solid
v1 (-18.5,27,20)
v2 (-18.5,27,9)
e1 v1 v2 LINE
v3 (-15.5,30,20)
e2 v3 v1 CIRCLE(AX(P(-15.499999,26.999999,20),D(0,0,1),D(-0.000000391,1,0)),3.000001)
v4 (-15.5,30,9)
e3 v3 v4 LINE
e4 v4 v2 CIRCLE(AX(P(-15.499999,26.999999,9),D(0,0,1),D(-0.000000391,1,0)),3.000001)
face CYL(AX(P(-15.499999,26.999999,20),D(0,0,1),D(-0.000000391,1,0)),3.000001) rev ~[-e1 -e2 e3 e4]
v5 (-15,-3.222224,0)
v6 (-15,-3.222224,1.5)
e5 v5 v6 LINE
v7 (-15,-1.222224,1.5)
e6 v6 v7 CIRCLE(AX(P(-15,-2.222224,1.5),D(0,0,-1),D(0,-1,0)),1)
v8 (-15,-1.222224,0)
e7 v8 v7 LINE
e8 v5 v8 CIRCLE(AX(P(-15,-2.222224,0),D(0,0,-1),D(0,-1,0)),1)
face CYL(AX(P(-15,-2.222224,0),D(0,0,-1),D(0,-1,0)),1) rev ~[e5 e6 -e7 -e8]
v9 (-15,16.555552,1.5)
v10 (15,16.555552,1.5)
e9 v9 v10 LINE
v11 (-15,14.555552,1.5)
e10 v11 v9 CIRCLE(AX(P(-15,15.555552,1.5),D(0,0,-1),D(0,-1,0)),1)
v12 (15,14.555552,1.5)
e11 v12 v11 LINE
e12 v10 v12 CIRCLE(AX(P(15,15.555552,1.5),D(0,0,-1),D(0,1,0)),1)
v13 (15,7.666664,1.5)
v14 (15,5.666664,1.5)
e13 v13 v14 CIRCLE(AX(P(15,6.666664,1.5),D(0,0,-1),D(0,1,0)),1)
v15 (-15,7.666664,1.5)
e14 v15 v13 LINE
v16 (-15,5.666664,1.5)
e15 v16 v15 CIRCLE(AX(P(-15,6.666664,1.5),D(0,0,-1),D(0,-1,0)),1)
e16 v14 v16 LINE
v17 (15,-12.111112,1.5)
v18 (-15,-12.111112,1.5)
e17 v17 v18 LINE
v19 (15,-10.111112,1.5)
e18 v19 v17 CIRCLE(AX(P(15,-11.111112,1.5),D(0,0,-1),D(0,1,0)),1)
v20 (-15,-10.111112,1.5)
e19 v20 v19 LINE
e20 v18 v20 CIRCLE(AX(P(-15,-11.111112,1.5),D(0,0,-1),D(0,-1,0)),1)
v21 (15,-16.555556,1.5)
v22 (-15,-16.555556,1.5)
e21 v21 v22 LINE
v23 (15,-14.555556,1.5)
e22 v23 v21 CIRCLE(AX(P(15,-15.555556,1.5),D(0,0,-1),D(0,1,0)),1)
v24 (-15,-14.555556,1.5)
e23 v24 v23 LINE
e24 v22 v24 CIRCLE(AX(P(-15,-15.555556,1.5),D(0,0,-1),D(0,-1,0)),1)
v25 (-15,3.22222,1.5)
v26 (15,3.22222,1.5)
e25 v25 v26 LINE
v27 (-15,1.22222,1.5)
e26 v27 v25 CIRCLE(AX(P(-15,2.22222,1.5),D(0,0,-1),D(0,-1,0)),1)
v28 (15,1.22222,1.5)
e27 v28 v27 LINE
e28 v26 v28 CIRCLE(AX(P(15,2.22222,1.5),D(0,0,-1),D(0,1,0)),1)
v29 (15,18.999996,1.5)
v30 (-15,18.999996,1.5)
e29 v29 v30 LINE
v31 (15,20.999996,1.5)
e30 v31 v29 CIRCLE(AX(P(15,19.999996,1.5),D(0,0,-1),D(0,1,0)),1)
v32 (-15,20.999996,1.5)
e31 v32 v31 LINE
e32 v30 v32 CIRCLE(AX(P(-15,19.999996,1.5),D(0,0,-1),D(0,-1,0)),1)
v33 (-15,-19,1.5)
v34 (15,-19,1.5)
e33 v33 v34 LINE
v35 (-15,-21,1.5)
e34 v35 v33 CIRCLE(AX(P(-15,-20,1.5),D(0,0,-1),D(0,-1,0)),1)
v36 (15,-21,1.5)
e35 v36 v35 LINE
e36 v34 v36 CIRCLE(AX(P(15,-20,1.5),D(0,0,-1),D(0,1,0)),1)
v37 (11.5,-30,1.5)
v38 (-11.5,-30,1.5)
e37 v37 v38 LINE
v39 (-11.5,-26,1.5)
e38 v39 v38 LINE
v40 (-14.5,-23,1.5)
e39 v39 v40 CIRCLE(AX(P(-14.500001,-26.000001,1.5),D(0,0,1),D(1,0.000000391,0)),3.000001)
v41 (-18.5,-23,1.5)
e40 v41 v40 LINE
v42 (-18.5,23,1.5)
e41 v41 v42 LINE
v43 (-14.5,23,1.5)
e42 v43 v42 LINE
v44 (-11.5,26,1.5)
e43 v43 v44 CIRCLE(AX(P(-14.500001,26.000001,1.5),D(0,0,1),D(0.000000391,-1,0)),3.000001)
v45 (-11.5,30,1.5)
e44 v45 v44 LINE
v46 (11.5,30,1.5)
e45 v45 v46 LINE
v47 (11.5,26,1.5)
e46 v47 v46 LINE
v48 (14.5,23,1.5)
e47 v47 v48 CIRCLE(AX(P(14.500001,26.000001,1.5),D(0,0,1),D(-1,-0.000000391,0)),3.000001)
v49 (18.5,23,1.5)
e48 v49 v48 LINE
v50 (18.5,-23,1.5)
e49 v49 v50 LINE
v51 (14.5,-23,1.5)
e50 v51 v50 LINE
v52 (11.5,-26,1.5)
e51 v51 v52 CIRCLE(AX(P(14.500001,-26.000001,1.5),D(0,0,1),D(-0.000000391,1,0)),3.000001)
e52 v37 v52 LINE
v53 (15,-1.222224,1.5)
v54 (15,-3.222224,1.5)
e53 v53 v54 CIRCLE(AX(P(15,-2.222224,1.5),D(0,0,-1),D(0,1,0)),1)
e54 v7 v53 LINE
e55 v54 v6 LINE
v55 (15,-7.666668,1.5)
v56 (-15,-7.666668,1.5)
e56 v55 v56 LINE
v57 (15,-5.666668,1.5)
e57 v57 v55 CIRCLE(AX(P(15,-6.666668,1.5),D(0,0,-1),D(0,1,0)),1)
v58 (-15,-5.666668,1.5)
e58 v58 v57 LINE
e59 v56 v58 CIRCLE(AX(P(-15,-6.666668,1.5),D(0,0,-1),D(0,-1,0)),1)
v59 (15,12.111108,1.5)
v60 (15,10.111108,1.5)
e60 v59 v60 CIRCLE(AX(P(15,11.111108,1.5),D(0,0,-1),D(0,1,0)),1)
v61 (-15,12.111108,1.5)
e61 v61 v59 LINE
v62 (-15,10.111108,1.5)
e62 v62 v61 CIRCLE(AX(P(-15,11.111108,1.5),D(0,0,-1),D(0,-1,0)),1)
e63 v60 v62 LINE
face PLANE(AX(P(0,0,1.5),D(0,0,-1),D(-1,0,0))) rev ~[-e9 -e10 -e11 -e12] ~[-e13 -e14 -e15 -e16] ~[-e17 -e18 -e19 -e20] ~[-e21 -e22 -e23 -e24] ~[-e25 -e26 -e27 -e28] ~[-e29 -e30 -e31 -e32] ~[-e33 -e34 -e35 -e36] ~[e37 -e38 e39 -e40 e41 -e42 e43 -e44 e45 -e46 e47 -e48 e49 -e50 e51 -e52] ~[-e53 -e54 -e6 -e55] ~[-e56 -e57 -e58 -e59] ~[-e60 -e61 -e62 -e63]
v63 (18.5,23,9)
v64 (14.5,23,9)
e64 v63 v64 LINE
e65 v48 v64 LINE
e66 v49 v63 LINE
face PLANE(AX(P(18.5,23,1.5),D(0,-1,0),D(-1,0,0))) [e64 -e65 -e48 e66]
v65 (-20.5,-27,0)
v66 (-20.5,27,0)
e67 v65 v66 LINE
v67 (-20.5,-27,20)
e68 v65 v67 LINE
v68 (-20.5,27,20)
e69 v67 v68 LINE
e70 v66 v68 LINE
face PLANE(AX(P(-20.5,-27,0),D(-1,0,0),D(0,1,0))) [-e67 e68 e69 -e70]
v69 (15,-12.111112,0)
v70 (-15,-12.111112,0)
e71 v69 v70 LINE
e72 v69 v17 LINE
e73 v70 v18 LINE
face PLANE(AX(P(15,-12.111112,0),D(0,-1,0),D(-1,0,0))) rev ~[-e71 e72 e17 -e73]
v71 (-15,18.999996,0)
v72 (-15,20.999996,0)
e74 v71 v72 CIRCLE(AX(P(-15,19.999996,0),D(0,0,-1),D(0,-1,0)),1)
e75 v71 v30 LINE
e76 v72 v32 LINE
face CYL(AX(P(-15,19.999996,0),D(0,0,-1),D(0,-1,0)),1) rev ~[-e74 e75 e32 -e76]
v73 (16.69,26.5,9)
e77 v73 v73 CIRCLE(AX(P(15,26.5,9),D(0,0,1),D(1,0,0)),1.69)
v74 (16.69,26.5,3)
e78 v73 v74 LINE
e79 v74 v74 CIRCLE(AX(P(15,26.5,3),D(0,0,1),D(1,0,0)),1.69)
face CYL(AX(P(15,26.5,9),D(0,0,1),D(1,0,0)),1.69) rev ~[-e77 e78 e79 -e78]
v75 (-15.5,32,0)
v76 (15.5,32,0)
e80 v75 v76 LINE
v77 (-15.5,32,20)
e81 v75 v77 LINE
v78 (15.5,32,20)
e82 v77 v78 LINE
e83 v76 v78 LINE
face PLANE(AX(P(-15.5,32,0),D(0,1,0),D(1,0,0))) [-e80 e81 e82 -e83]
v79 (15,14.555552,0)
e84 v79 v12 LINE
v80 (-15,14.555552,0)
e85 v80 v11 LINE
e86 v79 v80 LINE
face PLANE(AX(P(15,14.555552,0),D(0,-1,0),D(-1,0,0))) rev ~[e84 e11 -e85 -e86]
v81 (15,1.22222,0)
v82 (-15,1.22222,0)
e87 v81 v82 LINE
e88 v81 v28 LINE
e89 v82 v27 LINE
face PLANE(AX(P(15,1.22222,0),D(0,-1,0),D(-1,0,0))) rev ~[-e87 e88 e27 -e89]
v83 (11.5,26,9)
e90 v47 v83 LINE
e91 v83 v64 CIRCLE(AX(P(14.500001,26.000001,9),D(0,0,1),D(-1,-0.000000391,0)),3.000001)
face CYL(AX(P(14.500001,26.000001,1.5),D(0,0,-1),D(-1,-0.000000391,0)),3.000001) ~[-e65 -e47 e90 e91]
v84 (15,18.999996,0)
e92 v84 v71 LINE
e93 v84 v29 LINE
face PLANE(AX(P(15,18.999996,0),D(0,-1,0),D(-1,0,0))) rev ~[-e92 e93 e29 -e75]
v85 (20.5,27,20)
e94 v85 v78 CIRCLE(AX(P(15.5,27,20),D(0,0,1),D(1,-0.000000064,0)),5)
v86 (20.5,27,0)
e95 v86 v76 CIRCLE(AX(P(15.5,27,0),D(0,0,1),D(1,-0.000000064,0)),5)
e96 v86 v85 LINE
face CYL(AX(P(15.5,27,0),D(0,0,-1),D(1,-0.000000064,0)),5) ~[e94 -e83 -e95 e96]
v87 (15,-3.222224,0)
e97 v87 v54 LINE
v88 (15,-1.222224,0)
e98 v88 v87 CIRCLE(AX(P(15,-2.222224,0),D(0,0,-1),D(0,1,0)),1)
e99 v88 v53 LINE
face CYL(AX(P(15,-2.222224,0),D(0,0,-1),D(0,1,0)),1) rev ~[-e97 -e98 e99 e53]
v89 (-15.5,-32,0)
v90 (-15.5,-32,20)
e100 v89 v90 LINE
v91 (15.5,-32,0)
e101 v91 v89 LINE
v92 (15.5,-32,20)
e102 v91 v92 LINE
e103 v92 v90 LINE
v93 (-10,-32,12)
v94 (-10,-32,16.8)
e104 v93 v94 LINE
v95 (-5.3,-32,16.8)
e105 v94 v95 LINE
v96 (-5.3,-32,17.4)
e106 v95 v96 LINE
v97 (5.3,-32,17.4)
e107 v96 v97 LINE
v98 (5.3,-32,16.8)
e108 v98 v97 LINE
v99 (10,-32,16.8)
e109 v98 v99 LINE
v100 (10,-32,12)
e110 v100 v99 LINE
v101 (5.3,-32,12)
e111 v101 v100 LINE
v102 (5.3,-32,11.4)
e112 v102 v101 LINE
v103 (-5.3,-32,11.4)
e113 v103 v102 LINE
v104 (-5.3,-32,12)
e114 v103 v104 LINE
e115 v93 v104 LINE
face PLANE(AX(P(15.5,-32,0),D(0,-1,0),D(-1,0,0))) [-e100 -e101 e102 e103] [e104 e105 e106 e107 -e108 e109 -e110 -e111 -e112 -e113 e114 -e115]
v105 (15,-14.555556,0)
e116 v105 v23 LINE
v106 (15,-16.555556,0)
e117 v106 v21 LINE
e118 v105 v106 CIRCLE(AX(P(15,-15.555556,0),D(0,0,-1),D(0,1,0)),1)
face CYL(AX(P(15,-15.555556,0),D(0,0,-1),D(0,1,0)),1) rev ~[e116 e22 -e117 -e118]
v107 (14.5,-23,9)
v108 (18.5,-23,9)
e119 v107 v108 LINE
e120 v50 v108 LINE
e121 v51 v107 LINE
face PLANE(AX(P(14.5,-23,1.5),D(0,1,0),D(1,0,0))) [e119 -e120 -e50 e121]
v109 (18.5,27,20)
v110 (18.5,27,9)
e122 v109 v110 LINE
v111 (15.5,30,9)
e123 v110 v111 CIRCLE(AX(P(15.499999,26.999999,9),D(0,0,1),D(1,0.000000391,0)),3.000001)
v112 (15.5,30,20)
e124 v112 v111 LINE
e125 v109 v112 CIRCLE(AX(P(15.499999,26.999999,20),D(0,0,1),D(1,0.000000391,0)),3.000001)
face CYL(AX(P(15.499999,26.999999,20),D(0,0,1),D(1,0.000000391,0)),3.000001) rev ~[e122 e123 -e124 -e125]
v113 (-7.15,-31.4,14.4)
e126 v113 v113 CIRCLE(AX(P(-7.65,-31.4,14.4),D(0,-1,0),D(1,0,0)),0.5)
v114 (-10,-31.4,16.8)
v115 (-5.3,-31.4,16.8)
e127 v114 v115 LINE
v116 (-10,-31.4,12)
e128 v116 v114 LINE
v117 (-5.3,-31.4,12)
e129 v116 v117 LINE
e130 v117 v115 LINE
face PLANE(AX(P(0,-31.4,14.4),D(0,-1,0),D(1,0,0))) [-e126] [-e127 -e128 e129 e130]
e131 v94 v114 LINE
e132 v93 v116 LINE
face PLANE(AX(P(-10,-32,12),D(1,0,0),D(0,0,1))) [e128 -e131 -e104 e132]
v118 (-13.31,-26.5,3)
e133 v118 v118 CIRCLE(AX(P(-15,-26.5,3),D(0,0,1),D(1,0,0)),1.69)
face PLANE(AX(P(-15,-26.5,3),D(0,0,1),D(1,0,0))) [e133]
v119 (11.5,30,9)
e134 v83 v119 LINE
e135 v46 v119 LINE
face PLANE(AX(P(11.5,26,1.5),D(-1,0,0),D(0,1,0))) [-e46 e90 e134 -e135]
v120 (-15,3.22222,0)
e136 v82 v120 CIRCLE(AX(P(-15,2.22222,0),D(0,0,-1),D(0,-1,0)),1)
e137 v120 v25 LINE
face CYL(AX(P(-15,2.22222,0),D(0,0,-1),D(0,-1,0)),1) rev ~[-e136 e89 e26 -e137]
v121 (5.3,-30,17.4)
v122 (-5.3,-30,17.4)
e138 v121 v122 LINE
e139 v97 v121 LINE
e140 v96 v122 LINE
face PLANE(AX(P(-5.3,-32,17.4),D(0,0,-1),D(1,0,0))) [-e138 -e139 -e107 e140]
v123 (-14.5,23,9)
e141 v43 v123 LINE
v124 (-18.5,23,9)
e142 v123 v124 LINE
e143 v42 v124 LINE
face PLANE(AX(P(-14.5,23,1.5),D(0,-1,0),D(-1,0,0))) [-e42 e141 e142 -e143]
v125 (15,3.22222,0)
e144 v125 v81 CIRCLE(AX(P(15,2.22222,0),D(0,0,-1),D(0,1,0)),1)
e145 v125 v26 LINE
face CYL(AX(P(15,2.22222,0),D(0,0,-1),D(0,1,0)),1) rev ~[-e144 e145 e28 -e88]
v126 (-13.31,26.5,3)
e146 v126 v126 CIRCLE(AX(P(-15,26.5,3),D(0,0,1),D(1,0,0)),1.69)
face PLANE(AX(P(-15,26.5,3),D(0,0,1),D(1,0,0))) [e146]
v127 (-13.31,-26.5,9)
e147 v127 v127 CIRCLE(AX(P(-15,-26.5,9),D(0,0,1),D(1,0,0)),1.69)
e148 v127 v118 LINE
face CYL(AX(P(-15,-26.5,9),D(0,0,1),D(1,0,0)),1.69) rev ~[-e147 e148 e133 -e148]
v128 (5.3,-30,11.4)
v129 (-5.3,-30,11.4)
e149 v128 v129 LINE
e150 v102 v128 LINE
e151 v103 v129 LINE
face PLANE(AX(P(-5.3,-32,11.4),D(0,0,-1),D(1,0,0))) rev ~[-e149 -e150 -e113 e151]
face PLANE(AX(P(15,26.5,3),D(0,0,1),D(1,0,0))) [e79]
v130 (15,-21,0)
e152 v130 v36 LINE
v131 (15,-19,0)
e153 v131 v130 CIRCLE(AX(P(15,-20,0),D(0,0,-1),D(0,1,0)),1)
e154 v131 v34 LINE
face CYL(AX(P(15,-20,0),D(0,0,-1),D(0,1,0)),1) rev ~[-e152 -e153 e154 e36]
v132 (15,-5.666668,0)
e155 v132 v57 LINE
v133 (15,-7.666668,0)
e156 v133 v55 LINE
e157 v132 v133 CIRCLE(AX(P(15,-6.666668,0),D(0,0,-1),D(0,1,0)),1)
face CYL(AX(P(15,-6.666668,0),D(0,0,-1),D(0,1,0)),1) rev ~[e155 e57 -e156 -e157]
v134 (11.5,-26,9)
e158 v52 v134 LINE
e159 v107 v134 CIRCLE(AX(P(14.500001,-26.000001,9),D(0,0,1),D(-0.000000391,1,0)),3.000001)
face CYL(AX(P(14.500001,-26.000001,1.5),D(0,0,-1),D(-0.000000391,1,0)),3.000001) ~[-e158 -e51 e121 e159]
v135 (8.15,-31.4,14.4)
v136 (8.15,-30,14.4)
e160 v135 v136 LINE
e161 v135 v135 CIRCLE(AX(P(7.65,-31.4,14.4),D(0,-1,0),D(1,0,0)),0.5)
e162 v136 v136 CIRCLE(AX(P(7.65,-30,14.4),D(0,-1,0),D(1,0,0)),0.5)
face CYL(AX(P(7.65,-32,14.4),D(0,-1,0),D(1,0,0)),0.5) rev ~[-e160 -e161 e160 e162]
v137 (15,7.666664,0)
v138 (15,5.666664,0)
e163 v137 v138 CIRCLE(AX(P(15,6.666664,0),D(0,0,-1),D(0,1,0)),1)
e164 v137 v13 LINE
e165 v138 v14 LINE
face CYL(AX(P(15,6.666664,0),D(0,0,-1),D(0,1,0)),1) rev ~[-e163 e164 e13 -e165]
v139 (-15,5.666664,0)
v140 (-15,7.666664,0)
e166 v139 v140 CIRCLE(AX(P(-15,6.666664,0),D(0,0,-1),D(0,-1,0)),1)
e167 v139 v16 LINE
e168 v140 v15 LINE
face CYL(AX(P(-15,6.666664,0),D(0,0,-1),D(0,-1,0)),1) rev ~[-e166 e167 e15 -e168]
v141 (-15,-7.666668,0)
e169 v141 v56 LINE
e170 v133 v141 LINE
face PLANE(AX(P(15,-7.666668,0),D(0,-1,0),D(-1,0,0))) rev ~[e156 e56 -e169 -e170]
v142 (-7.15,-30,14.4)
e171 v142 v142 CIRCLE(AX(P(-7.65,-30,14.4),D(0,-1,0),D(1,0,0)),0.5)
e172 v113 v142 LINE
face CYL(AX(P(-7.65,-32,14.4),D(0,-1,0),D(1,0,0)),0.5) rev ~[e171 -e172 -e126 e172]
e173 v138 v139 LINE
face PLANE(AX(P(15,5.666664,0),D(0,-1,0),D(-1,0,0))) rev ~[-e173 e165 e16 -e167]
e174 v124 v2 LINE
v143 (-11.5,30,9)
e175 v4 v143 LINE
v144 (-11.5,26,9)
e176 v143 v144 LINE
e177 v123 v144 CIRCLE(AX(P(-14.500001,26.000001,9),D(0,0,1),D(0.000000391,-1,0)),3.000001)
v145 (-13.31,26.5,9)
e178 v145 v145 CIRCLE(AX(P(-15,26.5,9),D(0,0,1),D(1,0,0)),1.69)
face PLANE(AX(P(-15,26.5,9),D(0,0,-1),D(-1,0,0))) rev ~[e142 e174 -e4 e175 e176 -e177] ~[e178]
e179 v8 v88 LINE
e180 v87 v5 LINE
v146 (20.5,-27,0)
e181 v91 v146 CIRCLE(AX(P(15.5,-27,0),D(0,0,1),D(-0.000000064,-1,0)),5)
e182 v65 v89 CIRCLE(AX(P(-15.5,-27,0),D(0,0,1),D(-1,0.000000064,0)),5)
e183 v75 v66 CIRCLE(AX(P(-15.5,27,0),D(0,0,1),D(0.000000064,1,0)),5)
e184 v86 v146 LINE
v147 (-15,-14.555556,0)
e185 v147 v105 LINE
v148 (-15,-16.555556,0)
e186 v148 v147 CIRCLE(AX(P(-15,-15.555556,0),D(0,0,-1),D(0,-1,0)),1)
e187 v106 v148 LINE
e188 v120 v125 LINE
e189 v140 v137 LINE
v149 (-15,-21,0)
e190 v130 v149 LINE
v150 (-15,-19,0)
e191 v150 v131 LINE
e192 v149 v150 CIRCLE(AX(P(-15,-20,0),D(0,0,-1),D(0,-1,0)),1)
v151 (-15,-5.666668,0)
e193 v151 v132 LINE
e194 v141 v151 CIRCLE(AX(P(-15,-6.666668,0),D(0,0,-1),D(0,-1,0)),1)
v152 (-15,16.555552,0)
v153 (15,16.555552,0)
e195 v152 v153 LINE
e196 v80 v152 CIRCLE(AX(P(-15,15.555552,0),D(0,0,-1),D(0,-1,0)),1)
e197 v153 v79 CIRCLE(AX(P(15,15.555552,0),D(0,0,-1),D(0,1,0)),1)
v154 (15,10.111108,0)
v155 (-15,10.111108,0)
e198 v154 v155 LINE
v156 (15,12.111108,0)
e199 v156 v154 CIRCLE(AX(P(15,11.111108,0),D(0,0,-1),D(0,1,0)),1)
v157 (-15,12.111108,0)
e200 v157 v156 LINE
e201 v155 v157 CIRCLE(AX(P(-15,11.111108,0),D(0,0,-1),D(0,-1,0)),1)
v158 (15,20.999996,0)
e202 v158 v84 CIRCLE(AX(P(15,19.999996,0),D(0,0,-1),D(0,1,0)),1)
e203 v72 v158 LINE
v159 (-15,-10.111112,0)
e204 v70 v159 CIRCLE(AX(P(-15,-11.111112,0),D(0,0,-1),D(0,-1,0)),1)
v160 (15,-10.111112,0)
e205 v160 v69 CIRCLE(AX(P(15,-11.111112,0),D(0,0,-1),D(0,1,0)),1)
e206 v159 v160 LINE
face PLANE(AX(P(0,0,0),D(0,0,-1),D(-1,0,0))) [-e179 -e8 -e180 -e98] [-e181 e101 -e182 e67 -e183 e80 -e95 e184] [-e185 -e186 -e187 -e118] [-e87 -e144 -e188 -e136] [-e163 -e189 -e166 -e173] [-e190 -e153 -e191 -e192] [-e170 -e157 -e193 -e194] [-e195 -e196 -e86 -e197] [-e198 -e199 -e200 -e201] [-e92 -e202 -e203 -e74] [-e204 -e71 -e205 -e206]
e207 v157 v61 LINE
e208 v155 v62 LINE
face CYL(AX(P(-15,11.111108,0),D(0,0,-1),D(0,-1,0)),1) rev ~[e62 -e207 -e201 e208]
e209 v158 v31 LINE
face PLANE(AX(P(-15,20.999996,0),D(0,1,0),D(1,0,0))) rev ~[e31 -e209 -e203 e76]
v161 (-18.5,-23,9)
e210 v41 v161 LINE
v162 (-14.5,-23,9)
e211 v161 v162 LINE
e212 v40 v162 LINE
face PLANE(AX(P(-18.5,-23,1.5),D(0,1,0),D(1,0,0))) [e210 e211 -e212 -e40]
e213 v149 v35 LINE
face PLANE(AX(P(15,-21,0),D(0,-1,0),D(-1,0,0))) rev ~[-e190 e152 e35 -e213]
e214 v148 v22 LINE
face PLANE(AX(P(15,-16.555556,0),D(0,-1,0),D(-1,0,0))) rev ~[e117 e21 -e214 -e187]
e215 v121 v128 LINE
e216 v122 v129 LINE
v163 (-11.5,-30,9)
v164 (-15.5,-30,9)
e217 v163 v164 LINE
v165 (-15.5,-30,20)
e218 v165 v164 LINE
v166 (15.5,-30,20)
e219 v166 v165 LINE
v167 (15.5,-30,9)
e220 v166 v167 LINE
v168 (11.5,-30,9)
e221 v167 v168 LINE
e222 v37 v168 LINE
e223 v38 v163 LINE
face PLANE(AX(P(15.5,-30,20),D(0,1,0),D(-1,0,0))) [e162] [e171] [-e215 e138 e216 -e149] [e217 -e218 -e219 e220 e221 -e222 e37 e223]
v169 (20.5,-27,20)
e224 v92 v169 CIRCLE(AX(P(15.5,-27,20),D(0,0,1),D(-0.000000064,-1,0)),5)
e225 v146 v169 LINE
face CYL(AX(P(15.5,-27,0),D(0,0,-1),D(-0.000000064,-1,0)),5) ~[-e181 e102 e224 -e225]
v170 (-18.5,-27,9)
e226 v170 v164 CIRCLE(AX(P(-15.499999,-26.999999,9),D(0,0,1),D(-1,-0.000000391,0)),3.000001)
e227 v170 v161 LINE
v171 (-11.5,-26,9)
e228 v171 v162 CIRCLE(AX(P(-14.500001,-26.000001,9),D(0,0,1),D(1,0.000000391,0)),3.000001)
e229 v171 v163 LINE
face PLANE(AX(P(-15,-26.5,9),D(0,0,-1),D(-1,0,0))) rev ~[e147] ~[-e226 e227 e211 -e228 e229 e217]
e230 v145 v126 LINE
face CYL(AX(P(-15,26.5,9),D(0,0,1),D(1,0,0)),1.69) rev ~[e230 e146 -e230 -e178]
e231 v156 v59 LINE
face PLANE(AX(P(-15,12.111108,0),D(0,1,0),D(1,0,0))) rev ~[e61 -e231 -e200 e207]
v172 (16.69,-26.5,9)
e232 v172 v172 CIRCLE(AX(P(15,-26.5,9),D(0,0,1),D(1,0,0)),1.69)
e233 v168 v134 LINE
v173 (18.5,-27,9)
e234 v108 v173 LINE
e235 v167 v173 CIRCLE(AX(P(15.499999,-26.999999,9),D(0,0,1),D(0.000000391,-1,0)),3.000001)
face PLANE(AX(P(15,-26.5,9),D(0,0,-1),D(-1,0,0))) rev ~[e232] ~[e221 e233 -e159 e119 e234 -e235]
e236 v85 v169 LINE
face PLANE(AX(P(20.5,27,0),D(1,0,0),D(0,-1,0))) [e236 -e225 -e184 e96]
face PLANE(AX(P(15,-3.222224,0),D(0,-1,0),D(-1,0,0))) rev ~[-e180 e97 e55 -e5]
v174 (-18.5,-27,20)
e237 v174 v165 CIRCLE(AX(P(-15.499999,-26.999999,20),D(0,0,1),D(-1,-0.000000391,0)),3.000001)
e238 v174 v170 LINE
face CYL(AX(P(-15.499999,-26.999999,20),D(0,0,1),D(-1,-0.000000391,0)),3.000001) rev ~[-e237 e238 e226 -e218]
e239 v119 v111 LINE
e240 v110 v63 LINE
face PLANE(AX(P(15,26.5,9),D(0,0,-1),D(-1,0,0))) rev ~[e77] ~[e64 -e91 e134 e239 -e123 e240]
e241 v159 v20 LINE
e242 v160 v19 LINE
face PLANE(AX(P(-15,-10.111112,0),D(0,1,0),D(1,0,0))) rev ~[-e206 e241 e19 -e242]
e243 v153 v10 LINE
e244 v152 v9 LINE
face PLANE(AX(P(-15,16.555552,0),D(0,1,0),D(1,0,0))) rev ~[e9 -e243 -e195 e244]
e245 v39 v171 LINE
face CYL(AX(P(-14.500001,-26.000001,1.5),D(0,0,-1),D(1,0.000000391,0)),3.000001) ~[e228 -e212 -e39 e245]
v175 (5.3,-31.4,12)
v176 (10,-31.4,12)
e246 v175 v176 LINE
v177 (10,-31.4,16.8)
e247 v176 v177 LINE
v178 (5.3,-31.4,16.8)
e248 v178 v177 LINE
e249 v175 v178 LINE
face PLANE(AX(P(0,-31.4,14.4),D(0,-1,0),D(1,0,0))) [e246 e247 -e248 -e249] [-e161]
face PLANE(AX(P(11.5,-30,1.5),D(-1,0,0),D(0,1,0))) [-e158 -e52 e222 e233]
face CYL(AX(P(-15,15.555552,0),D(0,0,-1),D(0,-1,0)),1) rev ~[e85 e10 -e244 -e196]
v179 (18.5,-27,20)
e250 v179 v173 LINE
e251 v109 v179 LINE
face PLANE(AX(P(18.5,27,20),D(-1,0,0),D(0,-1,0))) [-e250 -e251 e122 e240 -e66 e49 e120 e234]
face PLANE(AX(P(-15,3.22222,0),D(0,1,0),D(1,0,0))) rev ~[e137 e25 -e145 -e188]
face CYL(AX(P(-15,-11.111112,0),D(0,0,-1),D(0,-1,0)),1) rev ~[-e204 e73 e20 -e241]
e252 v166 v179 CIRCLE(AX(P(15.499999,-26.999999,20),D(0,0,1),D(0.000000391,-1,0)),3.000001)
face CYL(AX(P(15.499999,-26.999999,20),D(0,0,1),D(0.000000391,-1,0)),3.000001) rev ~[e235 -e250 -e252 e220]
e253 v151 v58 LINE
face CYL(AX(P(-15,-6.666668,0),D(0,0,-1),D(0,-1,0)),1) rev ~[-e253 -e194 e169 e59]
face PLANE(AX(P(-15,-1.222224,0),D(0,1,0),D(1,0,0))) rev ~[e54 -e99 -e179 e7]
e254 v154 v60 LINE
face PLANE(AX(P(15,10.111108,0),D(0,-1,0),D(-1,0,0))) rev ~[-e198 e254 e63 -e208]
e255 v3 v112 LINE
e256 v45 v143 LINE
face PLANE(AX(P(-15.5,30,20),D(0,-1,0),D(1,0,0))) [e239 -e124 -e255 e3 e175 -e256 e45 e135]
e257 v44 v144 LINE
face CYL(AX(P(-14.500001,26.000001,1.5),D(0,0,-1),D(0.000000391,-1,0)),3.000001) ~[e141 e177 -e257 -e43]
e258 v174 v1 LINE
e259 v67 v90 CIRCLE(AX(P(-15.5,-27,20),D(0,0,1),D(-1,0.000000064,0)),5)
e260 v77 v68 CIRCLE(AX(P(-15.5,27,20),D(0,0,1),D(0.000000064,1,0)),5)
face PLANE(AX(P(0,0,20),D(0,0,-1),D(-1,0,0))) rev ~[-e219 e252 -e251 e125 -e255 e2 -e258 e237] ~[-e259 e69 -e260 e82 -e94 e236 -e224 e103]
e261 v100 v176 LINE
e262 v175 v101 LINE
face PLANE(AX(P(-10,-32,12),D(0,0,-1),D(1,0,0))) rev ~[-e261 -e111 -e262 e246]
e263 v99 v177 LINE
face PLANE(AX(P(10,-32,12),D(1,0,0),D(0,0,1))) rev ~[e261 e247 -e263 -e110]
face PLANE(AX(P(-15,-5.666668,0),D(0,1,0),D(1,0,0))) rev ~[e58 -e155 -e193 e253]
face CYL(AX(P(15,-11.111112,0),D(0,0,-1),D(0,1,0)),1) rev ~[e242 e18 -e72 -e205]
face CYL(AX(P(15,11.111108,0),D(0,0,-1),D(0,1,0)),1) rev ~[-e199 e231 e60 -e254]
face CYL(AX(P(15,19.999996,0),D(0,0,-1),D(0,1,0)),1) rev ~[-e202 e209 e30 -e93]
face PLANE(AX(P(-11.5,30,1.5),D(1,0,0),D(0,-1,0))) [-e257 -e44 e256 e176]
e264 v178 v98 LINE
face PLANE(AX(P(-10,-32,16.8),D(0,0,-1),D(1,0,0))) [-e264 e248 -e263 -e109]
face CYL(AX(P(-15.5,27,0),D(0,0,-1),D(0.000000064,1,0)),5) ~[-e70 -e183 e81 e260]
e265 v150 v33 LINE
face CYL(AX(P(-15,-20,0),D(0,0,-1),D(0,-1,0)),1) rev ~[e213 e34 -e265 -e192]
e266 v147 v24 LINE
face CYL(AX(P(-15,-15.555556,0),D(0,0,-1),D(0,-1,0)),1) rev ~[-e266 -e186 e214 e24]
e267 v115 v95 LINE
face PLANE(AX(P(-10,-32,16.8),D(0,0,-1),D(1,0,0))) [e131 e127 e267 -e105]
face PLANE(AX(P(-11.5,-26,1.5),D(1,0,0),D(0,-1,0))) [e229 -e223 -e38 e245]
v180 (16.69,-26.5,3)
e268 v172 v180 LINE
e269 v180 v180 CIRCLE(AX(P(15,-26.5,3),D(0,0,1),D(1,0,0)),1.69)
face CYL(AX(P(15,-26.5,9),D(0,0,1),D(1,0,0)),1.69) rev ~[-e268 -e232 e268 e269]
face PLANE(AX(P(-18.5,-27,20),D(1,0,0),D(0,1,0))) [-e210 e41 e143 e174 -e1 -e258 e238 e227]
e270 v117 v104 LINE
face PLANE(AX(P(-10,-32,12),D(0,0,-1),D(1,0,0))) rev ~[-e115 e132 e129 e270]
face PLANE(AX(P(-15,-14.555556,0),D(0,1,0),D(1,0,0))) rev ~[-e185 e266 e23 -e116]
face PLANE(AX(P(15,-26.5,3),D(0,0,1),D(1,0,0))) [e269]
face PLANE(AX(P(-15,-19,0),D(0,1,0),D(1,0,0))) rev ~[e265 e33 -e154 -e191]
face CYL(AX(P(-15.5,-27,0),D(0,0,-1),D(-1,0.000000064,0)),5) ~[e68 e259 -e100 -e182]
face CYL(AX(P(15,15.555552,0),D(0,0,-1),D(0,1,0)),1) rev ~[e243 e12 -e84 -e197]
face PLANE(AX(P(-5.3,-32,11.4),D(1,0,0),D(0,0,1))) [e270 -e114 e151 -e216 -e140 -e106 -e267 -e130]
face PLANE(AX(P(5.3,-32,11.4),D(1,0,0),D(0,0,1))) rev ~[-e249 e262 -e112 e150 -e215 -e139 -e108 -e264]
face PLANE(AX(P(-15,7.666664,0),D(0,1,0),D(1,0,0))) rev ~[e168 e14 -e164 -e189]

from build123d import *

# Parameters (mm, degrees)
PAD_DEPTH           = 20
POCKET_DEPTH        = 18.5
POCKET001_DEPTH     = 5
LINEARPATTERN_COUNT = 10
LINEARPATTERN_PITCH = 4.444444
PAD001_DEPTH        = 7.5
SKETCH004_R         = 1.69
POCKET002_DEPTH     = 6
SKETCH005_W         = 20
SKETCH005_H         = 4.8
POCKET003_DEPTH     = 0.6
SKETCH006_R         = 0.5
SKETCH006_W         = 10.6
SKETCH006_H         = 6
POCKET004_DEPTH     = 5


with BuildPart() as part:
    # Sketch → Pad (new body)
    with BuildSketch(Plane.XY):
        with BuildLine():
            Line((-15.5, 32), (15.5, 32))
            ThreePointArc((20.5, 27), (19.035534, 30.535534), (15.5, 32))
            Line((20.5, 27), (20.5, -27))
            ThreePointArc((15.5, -32), (19.035534, -30.535534), (20.5, -27))
            Line((15.5, -32), (-15.5, -32))
            ThreePointArc((-20.5, -27), (-19.035534, -30.535534), (-15.5, -32))
            Line((-20.5, -27), (-20.5, 27))
            ThreePointArc((-15.5, 32), (-19.035534, 30.535534), (-20.5, 27))
        make_face()
    extrude(amount=PAD_DEPTH)

    # Sketch001 (on Face10 of Pad) → Pocket (cut)
    with BuildSketch(Plane.XY.offset(20)):
        with BuildLine():
            Line((-15.5, 30), (15.5, 30))
            ThreePointArc((18.5, 27), (17.62132, 29.12132), (15.5, 30))
            Line((18.5, 27), (18.5, -27))
            ThreePointArc((15.5, -30), (17.62132, -29.12132), (18.5, -27))
            Line((15.5, -30), (-15.5, -30))
            ThreePointArc((-18.5, -27), (-17.62132, -29.12132), (-15.5, -30))
            Line((-18.5, -27), (-18.5, 27))
            ThreePointArc((-15.5, 30), (-17.62132, 29.12132), (-18.5, 27))
        make_face()
    extrude(amount=-POCKET_DEPTH, mode=Mode.SUBTRACT)

    # Sketch002 (on Face4 of Pocket) → Pocket001 (cut)
    with BuildSketch(Plane(origin=(0, 0, 0), x_dir=(1, 0, 0), z_dir=(0, 0, -1))):
        with BuildLine():
            ThreePointArc((-15, 21), (-16, 20), (-15, 19))
            Line((-15, 19), (15, 19))
            ThreePointArc((15, 19), (16, 20), (15, 21))
            Line((15, 21), (-15, 21))
        make_face()
    pocket001 = extrude(amount=-POCKET001_DEPTH, mode=Mode.SUBTRACT)

    # LinearPattern: Pocket001 ×10
    with Locations(*[(0, i * LINEARPATTERN_PITCH, 0) for i in range(1, LINEARPATTERN_COUNT)]):
        add(pocket001, mode=Mode.SUBTRACT)

    # Sketch003 (on Face59 of LinearPattern) → Pad001 (join)
    with BuildSketch(Plane.XY.offset(1.5)):
        with BuildLine():
            Line((-15.5, 30), (-11.5, 30))
            Line((-11.5, 30), (-11.5, 26))
            ThreePointArc((-14.5, 23), (-12.37868, 23.87868), (-11.5, 26))
            Line((-14.5, 23), (-18.5, 23))
            Line((-18.5, 23), (-18.5, 27))
            ThreePointArc((-15.5, 30), (-17.62132, 29.12132), (-18.5, 27))
        make_face()
        with BuildLine():
            Line((11.5, 30), (15.5, 30))
            ThreePointArc((18.5, 27), (17.62132, 29.12132), (15.5, 30))
            Line((18.5, 27), (18.5, 23))
            Line((18.5, 23), (14.5, 23))
            ThreePointArc((11.5, 26), (12.37868, 23.87868), (14.5, 23))
            Line((11.5, 26), (11.5, 30))
        make_face()
        with BuildLine():
            Line((-18.5, -23), (-14.5, -23))
            ThreePointArc((-11.5, -26), (-12.37868, -23.87868), (-14.5, -23))
            Line((-11.5, -26), (-11.5, -30))
            Line((-11.5, -30), (-15.5, -30))
            ThreePointArc((-18.5, -27), (-17.62132, -29.12132), (-15.5, -30))
            Line((-18.5, -27), (-18.5, -23))
        make_face()
        with BuildLine():
            Line((14.5, -23), (18.5, -23))
            Line((18.5, -23), (18.5, -27))
            ThreePointArc((15.5, -30), (17.62132, -29.12132), (18.5, -27))
            Line((15.5, -30), (11.5, -30))
            Line((11.5, -30), (11.5, -26))
            ThreePointArc((14.5, -23), (12.37868, -23.87868), (11.5, -26))
        make_face()
    extrude(amount=PAD001_DEPTH)

    # Sketch004 (on Face69 of Pad001) → Pocket002 (cut)
    with BuildSketch(Plane.XY.offset(9)):
        with Locations((15, 26.5)):
            Circle(SKETCH004_R)
        with Locations((-15, 26.5)):
            Circle(SKETCH004_R)
        with Locations((-15, -26.5)):
            Circle(SKETCH004_R)
        with Locations((15, -26.5)):
            Circle(SKETCH004_R)
    extrude(amount=-POCKET002_DEPTH, mode=Mode.SUBTRACT)

    # Sketch005 (on Face6 of Pocket002) → Pocket003 (cut)
    with BuildSketch(Plane.XZ.offset(32)):
        with Locations((0, 14.4)):
            Rectangle(SKETCH005_W, SKETCH005_H)
    extrude(amount=-POCKET003_DEPTH, mode=Mode.SUBTRACT)

    # Sketch006 (on Face6 of Pocket003) → Pocket004 (cut)
    with BuildSketch(Plane.XZ.offset(32)):
        with Locations((7.65, 14.4)):
            Circle(SKETCH006_R)
        with Locations((-7.65, 14.4)):
            Circle(SKETCH006_R)
        with Locations((0, 14.4)):
            Rectangle(SKETCH006_W, SKETCH006_H)
    extrude(amount=-POCKET004_DEPTH, mode=Mode.SUBTRACT)


solid = part.part
